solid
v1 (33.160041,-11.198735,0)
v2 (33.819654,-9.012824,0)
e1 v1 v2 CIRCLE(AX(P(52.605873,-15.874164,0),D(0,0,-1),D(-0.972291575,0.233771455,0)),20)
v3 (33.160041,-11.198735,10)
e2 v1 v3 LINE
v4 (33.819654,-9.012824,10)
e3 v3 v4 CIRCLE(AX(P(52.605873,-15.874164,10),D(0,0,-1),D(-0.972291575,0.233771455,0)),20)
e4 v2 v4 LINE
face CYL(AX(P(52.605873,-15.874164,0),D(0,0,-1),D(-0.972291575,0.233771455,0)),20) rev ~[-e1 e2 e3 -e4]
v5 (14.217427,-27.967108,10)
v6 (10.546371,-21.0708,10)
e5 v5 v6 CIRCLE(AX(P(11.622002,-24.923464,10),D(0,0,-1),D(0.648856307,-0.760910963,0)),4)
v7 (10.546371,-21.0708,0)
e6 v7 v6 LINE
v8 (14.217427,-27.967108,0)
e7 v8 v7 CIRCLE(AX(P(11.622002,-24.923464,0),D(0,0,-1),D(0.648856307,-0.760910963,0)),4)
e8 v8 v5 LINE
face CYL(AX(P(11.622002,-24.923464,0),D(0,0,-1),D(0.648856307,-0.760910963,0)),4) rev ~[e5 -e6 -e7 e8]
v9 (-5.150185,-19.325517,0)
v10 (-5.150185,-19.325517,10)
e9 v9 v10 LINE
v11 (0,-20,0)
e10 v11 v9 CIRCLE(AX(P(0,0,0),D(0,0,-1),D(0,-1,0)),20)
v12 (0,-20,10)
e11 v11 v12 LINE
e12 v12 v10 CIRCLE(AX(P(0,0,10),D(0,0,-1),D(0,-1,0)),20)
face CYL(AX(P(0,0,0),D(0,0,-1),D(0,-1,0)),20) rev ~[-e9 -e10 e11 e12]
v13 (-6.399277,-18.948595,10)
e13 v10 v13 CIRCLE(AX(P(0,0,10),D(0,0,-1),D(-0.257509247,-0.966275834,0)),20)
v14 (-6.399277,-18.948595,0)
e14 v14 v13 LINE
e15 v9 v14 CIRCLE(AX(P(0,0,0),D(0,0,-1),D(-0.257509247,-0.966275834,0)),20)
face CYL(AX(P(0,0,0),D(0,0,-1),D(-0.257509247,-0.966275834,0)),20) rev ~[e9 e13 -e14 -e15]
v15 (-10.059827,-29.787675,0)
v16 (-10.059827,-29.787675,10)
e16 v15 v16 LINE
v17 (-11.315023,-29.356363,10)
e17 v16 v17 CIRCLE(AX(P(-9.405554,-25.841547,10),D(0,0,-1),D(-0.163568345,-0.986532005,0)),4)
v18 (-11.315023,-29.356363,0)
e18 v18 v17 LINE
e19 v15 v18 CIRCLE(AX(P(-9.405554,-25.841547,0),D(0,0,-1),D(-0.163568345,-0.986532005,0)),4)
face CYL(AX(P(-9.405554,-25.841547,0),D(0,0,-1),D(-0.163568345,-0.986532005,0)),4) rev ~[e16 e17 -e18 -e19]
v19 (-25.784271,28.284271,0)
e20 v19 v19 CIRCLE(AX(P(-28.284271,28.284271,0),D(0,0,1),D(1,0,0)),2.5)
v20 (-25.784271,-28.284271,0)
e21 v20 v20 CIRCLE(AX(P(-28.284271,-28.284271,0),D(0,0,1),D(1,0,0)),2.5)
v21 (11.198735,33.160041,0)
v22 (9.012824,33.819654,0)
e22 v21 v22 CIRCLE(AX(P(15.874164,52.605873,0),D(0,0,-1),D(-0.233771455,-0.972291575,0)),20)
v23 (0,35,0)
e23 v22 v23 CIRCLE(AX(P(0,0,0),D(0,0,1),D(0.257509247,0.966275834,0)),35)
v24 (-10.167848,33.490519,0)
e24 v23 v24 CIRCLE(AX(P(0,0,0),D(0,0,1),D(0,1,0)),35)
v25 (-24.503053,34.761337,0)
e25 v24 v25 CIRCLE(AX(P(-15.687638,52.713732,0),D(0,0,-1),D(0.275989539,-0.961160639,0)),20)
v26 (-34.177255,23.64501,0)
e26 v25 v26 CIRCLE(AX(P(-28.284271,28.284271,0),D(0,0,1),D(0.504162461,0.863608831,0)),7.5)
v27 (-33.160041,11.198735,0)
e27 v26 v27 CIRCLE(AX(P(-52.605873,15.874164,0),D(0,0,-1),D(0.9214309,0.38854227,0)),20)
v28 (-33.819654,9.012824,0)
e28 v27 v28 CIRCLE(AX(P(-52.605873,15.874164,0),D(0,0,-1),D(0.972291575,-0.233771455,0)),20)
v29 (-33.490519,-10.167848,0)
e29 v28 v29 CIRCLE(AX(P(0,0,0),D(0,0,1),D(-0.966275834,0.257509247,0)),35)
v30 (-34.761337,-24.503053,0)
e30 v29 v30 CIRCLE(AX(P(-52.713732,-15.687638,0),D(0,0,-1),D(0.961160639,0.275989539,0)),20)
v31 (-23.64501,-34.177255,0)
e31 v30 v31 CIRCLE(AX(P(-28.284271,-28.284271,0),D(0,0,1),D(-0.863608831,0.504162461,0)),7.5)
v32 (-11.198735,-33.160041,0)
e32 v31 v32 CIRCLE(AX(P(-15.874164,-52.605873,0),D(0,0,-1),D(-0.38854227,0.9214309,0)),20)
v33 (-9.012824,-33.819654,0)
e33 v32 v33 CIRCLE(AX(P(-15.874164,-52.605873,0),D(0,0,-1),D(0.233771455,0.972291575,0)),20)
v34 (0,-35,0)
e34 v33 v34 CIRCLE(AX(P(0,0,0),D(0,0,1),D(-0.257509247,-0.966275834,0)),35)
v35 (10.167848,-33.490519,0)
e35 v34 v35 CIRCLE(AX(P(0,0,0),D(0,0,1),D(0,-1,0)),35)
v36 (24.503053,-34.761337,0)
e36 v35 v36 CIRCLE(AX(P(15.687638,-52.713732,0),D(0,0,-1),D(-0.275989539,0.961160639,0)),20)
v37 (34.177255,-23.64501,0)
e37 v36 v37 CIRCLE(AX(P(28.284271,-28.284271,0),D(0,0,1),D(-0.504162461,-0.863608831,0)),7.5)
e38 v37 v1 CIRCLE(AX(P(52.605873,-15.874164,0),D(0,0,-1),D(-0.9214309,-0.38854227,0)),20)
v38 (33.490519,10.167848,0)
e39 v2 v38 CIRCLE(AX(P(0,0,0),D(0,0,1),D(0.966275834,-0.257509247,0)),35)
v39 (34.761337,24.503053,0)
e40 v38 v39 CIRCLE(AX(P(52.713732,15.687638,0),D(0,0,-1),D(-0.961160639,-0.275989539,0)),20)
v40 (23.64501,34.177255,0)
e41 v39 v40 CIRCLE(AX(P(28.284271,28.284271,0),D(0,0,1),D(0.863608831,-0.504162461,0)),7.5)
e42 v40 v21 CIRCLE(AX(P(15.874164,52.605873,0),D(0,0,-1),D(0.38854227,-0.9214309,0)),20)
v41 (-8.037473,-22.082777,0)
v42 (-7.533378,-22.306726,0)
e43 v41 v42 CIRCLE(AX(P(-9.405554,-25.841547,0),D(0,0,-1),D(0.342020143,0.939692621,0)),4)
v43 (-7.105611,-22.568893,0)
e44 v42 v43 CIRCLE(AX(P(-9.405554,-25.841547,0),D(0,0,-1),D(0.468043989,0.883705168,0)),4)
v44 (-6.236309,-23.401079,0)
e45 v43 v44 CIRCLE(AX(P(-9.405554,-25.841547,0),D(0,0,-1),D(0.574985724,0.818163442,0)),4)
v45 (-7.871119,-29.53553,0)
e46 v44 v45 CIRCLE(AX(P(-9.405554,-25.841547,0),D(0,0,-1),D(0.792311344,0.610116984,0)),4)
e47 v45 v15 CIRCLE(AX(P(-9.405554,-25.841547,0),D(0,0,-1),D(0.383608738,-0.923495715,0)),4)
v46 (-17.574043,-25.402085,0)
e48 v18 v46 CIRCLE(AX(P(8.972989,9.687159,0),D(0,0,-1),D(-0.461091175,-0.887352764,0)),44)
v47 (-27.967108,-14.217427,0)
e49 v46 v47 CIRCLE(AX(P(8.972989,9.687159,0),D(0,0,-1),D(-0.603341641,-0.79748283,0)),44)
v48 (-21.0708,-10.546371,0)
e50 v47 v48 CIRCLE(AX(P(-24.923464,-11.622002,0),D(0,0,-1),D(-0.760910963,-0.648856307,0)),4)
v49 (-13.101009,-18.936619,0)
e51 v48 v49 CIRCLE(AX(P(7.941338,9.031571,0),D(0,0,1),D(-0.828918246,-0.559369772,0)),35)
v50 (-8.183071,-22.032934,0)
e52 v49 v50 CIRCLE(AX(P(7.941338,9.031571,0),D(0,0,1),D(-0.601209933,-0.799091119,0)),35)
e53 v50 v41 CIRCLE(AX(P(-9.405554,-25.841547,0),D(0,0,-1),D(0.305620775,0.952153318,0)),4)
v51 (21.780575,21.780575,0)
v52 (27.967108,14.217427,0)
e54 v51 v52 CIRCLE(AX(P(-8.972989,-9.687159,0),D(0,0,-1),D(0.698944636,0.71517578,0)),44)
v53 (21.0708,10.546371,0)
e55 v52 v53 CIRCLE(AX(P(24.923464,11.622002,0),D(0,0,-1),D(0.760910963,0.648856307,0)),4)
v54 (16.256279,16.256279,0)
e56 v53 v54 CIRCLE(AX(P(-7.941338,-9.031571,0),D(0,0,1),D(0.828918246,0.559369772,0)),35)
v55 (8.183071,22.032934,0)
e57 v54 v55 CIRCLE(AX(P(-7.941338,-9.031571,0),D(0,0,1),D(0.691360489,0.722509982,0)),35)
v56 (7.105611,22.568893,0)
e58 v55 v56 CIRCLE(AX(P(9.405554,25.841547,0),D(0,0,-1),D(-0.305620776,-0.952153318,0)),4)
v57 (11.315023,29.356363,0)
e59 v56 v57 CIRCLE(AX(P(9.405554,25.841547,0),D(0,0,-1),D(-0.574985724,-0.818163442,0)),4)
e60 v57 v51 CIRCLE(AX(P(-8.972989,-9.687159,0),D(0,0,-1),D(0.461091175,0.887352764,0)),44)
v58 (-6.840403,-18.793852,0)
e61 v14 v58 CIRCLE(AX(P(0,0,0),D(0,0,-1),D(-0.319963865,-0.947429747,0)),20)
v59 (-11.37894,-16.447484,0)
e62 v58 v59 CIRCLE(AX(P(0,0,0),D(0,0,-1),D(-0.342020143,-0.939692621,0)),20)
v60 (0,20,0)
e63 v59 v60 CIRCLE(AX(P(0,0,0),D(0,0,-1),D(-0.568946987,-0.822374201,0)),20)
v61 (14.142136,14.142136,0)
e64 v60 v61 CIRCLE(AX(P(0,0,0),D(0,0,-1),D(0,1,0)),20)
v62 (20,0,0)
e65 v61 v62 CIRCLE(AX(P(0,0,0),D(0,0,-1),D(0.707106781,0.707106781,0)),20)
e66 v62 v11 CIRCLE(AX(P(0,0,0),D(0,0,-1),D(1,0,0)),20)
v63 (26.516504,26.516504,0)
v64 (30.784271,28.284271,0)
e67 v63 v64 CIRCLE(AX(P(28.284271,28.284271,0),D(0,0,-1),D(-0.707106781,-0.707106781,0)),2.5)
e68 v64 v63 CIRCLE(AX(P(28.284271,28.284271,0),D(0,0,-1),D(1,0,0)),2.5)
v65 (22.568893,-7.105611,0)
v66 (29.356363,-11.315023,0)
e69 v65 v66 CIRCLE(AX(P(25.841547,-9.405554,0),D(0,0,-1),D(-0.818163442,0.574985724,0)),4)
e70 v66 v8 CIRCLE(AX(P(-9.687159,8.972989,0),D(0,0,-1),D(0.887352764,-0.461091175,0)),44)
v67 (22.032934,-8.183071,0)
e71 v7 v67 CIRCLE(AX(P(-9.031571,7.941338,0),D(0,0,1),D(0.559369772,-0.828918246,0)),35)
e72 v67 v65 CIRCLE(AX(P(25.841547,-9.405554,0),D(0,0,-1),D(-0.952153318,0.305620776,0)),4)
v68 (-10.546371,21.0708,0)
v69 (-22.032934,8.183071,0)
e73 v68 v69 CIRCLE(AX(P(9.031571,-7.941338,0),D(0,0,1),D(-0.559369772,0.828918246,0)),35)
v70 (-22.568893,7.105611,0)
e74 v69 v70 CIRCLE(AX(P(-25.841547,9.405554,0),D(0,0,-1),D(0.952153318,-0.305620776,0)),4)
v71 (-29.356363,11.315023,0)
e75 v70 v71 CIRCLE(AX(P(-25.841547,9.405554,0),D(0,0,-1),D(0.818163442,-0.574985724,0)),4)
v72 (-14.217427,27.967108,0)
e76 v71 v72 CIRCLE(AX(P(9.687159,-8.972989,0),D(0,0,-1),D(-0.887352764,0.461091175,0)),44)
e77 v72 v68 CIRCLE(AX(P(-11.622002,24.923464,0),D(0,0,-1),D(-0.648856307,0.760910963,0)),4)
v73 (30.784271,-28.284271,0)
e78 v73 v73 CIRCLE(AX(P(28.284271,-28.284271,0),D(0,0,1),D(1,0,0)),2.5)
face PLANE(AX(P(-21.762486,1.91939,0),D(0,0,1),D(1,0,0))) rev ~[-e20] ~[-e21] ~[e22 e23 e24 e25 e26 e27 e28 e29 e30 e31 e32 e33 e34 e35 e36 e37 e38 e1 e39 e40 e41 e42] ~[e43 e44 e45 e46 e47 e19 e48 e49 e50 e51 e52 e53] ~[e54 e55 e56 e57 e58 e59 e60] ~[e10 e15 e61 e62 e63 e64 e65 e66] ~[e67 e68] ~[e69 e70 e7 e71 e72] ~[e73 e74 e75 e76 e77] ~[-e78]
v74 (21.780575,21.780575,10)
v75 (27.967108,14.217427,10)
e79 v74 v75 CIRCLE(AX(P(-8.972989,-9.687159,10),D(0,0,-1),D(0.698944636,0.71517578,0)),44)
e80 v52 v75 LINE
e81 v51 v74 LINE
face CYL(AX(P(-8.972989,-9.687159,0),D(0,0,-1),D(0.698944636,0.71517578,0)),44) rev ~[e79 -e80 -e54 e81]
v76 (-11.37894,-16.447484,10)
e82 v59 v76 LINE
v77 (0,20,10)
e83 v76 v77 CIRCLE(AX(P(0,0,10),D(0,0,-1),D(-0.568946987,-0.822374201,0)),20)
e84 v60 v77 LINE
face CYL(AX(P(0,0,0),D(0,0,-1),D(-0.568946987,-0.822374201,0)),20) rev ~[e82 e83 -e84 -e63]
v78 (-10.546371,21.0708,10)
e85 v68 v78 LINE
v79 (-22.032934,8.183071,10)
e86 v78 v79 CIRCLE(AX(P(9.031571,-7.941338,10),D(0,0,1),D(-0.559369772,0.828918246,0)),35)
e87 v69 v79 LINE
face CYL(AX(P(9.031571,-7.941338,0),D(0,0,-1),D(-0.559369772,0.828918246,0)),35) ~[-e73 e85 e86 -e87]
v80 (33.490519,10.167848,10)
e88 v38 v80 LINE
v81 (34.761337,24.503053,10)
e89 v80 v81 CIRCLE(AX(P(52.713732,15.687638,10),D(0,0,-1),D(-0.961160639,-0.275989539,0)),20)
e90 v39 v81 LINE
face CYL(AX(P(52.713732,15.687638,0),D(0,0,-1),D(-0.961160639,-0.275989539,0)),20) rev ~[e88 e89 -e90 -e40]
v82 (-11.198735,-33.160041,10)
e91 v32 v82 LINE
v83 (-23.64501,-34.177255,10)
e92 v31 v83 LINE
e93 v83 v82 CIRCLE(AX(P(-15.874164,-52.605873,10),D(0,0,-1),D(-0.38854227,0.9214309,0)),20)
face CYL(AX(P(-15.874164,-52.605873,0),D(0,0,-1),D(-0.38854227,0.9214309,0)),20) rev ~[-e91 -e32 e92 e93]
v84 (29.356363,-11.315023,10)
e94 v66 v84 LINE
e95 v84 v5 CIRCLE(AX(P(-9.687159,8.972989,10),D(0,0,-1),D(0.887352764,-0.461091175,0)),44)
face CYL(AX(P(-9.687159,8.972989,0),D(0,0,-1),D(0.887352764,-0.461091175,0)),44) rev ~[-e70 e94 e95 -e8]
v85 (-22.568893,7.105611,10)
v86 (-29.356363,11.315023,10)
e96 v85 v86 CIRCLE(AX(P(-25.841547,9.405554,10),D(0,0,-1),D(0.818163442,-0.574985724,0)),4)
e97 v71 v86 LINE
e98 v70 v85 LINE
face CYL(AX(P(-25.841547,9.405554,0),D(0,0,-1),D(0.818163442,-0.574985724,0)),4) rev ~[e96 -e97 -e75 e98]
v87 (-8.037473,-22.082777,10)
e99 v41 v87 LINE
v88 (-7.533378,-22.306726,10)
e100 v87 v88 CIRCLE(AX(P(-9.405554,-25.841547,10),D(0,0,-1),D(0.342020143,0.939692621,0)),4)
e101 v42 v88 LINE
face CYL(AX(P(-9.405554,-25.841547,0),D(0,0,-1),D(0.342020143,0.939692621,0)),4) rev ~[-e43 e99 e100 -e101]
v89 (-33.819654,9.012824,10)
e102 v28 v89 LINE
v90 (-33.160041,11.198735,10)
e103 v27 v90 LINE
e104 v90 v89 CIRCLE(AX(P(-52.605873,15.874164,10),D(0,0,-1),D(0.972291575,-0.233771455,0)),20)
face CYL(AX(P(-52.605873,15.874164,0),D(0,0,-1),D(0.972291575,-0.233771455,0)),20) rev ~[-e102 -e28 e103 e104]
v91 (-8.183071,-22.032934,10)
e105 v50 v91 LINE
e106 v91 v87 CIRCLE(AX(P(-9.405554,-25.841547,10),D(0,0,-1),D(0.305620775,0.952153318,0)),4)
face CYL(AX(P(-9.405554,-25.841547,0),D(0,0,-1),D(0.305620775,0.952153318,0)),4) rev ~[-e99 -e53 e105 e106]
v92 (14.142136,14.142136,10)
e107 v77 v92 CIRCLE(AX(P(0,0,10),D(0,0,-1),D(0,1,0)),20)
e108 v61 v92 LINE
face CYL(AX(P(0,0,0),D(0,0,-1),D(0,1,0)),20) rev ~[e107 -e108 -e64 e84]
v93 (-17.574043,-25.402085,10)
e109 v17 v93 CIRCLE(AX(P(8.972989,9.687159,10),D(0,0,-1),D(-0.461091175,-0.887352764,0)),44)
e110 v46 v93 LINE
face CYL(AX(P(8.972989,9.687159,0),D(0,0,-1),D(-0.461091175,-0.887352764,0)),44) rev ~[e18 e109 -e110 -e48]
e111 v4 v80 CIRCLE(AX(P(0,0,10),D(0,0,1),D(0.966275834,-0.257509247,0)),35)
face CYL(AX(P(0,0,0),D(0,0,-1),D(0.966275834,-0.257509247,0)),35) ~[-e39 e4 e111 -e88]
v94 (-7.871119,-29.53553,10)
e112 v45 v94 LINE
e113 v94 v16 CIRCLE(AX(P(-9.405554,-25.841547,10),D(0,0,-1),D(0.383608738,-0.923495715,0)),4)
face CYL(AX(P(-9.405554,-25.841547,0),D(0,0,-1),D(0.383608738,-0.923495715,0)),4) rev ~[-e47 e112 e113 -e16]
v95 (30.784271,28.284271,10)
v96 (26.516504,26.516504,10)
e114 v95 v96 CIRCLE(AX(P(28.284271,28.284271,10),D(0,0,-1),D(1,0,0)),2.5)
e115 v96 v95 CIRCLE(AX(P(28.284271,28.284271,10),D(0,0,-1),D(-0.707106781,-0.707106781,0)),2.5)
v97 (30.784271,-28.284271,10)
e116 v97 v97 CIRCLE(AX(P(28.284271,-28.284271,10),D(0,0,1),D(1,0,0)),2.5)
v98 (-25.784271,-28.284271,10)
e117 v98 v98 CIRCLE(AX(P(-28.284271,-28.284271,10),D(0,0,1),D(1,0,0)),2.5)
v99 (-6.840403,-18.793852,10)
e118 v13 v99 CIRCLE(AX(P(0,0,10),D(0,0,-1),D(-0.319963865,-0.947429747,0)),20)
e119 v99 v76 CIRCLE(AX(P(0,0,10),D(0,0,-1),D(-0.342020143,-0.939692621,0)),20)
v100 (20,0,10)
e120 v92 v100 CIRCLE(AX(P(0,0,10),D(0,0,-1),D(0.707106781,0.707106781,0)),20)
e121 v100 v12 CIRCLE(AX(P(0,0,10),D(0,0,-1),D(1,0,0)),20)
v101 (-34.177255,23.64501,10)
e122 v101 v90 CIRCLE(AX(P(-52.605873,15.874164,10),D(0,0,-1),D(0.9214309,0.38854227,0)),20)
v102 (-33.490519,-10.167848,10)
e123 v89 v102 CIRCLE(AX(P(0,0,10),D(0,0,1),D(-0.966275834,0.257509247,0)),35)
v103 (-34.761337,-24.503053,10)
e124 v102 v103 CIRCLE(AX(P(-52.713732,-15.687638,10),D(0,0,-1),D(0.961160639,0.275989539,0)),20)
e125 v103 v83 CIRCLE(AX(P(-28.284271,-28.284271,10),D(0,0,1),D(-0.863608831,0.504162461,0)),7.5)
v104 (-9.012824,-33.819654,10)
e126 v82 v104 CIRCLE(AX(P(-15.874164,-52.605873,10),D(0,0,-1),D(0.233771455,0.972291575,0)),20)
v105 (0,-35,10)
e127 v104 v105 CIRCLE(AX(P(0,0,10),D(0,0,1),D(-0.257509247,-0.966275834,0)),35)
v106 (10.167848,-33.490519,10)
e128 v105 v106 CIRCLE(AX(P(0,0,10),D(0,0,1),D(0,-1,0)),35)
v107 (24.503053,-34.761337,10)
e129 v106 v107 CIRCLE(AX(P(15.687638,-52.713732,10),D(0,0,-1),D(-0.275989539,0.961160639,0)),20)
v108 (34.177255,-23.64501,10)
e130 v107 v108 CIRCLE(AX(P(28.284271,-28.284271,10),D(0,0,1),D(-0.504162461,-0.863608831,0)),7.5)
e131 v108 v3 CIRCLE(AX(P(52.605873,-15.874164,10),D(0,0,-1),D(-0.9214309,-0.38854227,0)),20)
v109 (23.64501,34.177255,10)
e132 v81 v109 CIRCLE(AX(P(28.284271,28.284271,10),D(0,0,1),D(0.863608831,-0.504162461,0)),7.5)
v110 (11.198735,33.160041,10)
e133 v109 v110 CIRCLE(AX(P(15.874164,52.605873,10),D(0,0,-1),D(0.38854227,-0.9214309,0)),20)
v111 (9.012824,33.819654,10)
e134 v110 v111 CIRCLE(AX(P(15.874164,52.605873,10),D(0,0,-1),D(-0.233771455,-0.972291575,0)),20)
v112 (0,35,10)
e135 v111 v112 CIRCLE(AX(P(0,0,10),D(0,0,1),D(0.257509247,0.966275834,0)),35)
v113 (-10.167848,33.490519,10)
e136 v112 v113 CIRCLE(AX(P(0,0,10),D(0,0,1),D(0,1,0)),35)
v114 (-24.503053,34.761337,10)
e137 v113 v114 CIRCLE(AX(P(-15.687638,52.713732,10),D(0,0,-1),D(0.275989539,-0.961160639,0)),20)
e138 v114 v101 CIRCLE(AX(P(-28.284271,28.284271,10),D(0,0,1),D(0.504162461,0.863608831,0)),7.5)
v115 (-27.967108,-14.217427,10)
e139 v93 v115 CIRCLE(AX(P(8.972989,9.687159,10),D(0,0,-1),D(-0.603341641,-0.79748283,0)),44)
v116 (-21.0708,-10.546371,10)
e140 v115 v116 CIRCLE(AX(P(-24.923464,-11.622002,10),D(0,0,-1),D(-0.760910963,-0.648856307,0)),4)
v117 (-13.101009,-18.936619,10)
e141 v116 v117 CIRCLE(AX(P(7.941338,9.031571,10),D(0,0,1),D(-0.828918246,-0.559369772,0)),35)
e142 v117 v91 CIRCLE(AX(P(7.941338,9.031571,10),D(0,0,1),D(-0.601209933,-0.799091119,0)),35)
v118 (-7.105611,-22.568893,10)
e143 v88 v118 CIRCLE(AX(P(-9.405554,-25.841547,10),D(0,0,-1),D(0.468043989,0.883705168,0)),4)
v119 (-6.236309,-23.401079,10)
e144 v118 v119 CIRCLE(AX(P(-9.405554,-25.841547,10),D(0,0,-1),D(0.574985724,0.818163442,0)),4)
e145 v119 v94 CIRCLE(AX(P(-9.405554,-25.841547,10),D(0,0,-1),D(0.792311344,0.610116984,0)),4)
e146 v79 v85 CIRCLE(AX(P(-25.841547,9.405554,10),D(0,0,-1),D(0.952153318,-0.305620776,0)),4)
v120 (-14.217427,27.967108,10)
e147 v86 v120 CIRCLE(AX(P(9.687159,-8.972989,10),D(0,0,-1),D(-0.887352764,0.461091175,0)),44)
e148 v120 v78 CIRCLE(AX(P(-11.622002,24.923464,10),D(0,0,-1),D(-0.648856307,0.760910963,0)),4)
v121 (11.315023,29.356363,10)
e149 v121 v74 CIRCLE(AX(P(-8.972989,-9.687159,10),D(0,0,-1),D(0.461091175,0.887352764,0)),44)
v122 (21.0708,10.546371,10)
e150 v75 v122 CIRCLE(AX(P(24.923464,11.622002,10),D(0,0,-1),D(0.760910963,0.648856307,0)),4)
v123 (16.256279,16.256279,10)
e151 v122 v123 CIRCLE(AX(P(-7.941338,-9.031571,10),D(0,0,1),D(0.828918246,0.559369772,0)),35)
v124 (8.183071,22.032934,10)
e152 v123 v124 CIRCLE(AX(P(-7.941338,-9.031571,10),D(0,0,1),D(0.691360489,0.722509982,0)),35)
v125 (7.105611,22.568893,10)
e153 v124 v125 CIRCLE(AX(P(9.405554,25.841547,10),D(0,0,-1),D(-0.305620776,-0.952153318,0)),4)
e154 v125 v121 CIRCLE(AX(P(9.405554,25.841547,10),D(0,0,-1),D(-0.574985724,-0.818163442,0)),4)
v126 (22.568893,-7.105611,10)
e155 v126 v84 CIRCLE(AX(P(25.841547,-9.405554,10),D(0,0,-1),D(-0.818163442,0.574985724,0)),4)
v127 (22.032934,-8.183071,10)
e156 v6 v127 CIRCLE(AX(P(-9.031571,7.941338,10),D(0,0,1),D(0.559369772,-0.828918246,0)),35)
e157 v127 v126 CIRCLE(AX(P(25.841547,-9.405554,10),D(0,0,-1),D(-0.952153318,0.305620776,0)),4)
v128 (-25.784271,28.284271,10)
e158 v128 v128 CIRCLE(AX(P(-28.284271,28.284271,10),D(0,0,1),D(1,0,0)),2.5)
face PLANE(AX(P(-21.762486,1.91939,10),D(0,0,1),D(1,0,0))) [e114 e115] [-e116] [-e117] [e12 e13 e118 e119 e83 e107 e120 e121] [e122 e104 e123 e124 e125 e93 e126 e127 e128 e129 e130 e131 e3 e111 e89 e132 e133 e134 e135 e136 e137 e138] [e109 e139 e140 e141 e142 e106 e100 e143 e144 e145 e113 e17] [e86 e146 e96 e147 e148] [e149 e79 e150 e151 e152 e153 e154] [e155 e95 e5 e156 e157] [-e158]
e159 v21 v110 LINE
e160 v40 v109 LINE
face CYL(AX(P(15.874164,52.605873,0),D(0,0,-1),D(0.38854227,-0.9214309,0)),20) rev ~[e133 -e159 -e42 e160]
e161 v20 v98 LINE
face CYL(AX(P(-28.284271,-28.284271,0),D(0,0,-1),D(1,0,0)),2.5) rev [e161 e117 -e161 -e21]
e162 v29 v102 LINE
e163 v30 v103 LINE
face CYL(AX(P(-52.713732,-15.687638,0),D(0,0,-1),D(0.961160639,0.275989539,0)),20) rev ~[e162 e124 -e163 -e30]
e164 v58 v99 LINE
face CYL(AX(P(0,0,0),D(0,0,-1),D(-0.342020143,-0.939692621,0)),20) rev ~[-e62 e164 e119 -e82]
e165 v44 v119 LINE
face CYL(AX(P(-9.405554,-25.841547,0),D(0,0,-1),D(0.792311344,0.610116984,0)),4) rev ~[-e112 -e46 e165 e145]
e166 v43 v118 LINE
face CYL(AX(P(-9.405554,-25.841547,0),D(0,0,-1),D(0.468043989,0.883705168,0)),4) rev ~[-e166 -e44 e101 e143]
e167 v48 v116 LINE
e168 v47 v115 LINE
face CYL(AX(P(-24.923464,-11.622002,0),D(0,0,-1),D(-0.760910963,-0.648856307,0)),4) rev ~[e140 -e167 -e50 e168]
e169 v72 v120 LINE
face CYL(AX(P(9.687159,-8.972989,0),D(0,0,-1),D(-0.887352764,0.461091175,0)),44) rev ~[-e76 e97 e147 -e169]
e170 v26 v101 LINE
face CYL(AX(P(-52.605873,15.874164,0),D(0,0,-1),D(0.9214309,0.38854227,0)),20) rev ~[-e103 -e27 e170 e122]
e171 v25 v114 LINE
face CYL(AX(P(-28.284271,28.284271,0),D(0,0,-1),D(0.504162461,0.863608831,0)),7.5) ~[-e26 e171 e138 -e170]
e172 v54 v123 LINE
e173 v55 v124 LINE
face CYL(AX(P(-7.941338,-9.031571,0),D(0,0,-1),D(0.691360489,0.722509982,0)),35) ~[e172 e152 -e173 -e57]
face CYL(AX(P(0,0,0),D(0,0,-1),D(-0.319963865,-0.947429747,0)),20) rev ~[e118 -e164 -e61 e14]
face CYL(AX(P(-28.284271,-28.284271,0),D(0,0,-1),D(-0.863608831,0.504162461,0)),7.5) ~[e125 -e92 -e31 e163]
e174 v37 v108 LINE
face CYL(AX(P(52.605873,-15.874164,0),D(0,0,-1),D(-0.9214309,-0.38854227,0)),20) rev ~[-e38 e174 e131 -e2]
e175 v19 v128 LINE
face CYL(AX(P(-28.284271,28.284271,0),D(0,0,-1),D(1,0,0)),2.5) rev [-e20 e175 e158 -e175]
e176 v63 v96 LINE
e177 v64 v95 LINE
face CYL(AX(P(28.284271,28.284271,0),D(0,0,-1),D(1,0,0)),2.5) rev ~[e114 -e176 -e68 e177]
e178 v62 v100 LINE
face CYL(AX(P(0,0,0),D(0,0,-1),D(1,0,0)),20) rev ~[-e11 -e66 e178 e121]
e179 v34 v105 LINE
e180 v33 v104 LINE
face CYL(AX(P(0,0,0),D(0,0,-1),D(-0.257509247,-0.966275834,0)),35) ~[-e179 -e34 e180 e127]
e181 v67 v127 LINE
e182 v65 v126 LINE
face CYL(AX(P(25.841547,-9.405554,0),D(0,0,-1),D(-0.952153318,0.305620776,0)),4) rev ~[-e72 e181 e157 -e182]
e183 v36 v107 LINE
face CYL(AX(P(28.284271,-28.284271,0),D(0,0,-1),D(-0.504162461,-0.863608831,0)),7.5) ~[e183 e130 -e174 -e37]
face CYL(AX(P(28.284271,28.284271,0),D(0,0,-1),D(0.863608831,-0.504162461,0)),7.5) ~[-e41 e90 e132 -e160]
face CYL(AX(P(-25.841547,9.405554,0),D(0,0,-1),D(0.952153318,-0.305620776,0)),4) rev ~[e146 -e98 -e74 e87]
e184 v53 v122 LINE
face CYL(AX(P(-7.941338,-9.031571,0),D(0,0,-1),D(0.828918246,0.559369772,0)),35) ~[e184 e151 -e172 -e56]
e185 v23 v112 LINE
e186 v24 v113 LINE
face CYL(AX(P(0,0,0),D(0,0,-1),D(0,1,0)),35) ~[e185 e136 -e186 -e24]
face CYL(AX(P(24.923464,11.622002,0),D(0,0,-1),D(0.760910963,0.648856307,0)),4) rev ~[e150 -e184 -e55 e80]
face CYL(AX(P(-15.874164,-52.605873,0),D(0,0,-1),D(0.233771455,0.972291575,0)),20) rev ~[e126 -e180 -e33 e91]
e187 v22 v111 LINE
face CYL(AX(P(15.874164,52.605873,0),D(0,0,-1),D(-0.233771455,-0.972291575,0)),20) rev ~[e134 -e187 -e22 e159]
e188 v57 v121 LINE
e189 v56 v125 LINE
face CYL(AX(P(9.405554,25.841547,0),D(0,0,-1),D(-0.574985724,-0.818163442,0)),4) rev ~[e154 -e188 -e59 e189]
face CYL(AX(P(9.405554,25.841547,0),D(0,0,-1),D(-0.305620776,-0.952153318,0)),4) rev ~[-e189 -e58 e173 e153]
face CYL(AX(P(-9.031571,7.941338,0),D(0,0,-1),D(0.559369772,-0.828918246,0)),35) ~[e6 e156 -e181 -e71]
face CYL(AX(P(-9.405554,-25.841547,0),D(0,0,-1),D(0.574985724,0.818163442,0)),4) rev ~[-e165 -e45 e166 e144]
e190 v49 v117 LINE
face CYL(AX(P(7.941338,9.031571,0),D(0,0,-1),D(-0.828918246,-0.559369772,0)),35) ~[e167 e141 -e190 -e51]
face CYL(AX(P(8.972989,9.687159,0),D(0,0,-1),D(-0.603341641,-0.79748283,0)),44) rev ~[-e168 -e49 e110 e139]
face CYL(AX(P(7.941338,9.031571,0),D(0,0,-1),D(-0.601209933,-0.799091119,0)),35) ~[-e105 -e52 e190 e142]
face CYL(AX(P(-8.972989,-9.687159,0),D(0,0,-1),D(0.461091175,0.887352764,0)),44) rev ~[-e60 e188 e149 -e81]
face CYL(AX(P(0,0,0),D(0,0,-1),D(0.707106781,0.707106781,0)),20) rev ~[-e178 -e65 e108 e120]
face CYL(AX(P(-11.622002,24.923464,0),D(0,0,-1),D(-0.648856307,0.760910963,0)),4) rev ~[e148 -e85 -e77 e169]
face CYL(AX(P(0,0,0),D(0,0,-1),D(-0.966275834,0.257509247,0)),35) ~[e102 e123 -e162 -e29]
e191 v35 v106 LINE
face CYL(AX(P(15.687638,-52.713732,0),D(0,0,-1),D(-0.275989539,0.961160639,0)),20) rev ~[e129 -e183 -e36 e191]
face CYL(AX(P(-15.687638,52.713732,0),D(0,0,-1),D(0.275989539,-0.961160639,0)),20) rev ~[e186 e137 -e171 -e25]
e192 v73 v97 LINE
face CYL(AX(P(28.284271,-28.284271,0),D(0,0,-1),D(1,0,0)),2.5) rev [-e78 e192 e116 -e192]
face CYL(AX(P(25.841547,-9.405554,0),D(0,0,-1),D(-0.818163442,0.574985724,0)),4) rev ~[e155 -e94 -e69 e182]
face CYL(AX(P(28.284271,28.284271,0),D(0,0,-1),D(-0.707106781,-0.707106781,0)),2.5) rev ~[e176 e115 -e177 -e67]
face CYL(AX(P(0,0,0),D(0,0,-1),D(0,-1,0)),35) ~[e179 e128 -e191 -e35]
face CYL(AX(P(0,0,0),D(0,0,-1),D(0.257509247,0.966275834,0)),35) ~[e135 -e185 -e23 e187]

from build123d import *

# Parameters (mm, degrees)
F0_R     = 2.5
F1_DEPTH = 10


with BuildPart() as f1:
    # F0 (on Top) → F1 (new body)
    with BuildSketch(Plane.XY):
        with BuildLine():
            Line((0, 20), (0, 35))
            ThreePointArc((0, 35), (-5.139641441, 34.620573159), (-10.1678475726, 33.4905191919))
            ThreePointArc((-10.1678475726, 33.4905191919), (-17.4537155293, 32.7918602935), (-24.5030527862, 34.7613374775))
            ThreePointArc((-24.5030527862, 34.7613374775), (-33.9418390183, 33.2078803829), (-34.1772546288, 23.6450097903))
            ThreePointArc((-34.1772546288, 23.6450097903), (-32.6723351007, 17.5032995342), (-33.160041137, 11.1987352765))
            ThreePointArc((-33.160041137, 11.1987352765), (-33.458628369, 10.0963588308), (-33.819654198, 9.012823638))
            ThreePointArc((-33.819654198, 9.012823638), (-34.994848156, -0.6005019029), (-33.4905191919, -10.1678475726))
            ThreePointArc((-33.4905191919, -10.1678475726), (-32.7918602935, -17.4537155293), (-34.7613374775, -24.5030527862))
            ThreePointArc((-34.7613374775, -24.5030527862), (-33.2078803829, -33.9418390183), (-23.6450097903, -34.1772546288))
            Line((-23.6450097903, -34.1772546288), (-17.5740434932, -25.4020854569))
            ThreePointArc((-17.5740434932, -25.4020854569), (-23.2594177785, -20.2640007089), (-27.9671079942, -14.2174274252))
            ThreePointArc((-27.9671079942, -14.2174274252), (-28.3098834226, -13.75089028), (-28.5817235471, -13.2397593292))
            ThreePointArc((-28.5817235471, -13.2397593292), (-26.2736614667, -7.8567708386), (-21.0708003204, -10.5463714686))
            ThreePointArc((-21.0708003204, -10.5463714686), (-17.4350672969, -15.0731601026), (-13.1010093591, -18.936618624))
            Line((-13.1010093591, -18.936618624), (-11.3789397329, -16.447484019))
            ThreePointArc((-11.3789397329, -16.447484019), (-19.0912241669, 5.9602986343), (0, 20))
        make_face()
        with Locations((-28.2842712475, -28.2842712475)):
            Circle(F0_R, mode=Mode.SUBTRACT)
        with BuildLine():
            ThreePointArc((-13.2397593292, 28.5817235471), (-7.8567708386, 26.2736614667), (-10.5463714686, 21.0708003204))
            ThreePointArc((-10.5463714686, 21.0708003204), (-17.096723239, 15.3462606412), (-22.0329337989, 8.1830708377))
            ThreePointArc((-22.0329337989, 8.1830708377), (-22.2601624756, 7.6240701847), (-22.5688933039, 7.1056110472))
            ThreePointArc((-22.5688933039, 7.1056110472), (-27.9497329821, 6.0062080975), (-29.3563625566, 11.3150230056))
            ThreePointArc((-29.3563625566, 11.3150230056), (-22.869546271, 20.6253378904), (-14.2174274252, 27.9671079942))
            ThreePointArc((-14.2174274252, 27.9671079942), (-13.75089028, 28.3098834226), (-13.2397593292, 28.5817235471))
        make_face(mode=Mode.SUBTRACT)
        with Locations((-28.2842712475, 28.2842712475)):
            Circle(F0_R, mode=Mode.SUBTRACT)
        with BuildLine():
            ThreePointArc((9.012823638, 33.819654198), (4.5448929069, 34.7036590069), (0, 35))
            Line((0, 35), (0, 20))
            ThreePointArc((0, 20), (7.6536686473, 18.4775906502), (14.1421356237, 14.1421356237))
            ThreePointArc((14.1421356237, 14.1421356237), (18.4775906502, 7.6536686473), (20, 0))
            ThreePointArc((20, 0), (14.1421356237, -14.1421356237), (0, -20))
            Line((0, -20), (0, -35))
            ThreePointArc((0, -35), (5.139641441, -34.620573159), (10.1678475726, -33.4905191919))
            ThreePointArc((10.1678475726, -33.4905191919), (17.4537155293, -32.7918602935), (24.5030527862, -34.7613374775))
            ThreePointArc((24.5030527862, -34.7613374775), (33.9418390183, -33.2078803829), (34.1772546288, -23.6450097903))
            ThreePointArc((34.1772546288, -23.6450097903), (32.6723351007, -17.5032995342), (33.160041137, -11.1987352765))
            ThreePointArc((33.160041137, -11.1987352765), (33.458628369, -10.0963588308), (33.819654198, -9.012823638))
            ThreePointArc((33.819654198, -9.012823638), (34.994848156, 0.6005019029), (33.4905191919, 10.1678475726))
            ThreePointArc((33.4905191919, 10.1678475726), (32.7918602935, 17.4537155293), (34.7613374775, 24.5030527862))
            ThreePointArc((34.7613374775, 24.5030527862), (33.2078803829, 33.9418390183), (23.6450097903, 34.1772546288))
            ThreePointArc((23.6450097903, 34.1772546288), (17.5032995342, 32.6723351007), (11.1987352765, 33.160041137))
            ThreePointArc((11.1987352765, 33.160041137), (10.0963588308, 33.458628369), (9.012823638, 33.819654198))
        make_face()
        with Locations((28.2842712475, -28.2842712475)):
            Circle(F0_R, mode=Mode.SUBTRACT)
        with BuildLine():
            ThreePointArc((13.2397593292, -28.5817235471), (7.8567708386, -26.2736614667), (10.5463714686, -21.0708003204))
            ThreePointArc((10.5463714686, -21.0708003204), (17.096723239, -15.3462606412), (22.0329337989, -8.1830708377))
            ThreePointArc((22.0329337989, -8.1830708377), (22.2601624756, -7.6240701847), (22.5688933039, -7.1056110472))
            ThreePointArc((22.5688933039, -7.1056110472), (27.9497329821, -6.0062080975), (29.3563625566, -11.3150230056))
            ThreePointArc((29.3563625566, -11.3150230056), (22.869546271, -20.6253378904), (14.2174274252, -27.9671079942))
            ThreePointArc((14.2174274252, -27.9671079942), (13.75089028, -28.3098834226), (13.2397593292, -28.5817235471))
        make_face(mode=Mode.SUBTRACT)
        with BuildLine():
            ThreePointArc((21.0708003204, 10.5463714686), (18.8162828052, 13.5301163041), (16.2562788277, 16.2562788277))
            ThreePointArc((16.2562788277, 16.2562788277), (12.4255192438, 19.432285732), (8.1830708377, 22.0329337989))
            ThreePointArc((8.1830708377, 22.0329337989), (7.6240701847, 22.2601624756), (7.1056110472, 22.5688933039))
            ThreePointArc((7.1056110472, 22.5688933039), (6.0062080975, 27.9497329821), (11.3150230056, 29.3563625566))
            ThreePointArc((11.3150230056, 29.3563625566), (16.8273746655, 25.9546878233), (21.7805752556, 21.7805752556))
            ThreePointArc((21.7805752556, 21.7805752556), (25.0844366917, 18.1712647028), (27.9671079942, 14.2174274252))
            ThreePointArc((27.9671079942, 14.2174274252), (28.3098834226, 13.75089028), (28.5817235471, 13.2397593292))
            ThreePointArc((28.5817235471, 13.2397593292), (26.2736614667, 7.8567708386), (21.0708003204, 10.5463714686))
        make_face(mode=Mode.SUBTRACT)
        with BuildLine():
            ThreePointArc((30.7842712475, 28.2842712475), (29.2409798284, 25.9745724162), (26.5165042945, 26.5165042945))
            ThreePointArc((26.5165042945, 26.5165042945), (27.3275626665, 30.5939700787), (30.7842712475, 28.2842712475))
        make_face(mode=Mode.SUBTRACT)
        with BuildLine():
            ThreePointArc((-6.8404028665, -18.7938524157), (-9.1849045913, -17.7661905778), (-11.3789397329, -16.447484019))
            Line((-11.3789397329, -16.447484019), (-13.1010093591, -18.936618624))
            ThreePointArc((-13.1010093591, -18.936618624), (-10.7064161122, -20.587025905), (-8.1830708377, -22.0329337989))
            ThreePointArc((-8.1830708377, -22.0329337989), (-8.1100323796, -22.0571549298), (-8.0374733682, -22.0827765885))
            Line((-8.0374733682, -22.0827765885), (-6.8404028665, -18.7938524157))
        make_face()
        with BuildLine():
            ThreePointArc((-9.012823638, -33.819654198), (-4.5448929069, -34.7036590069), (0, -35))
            Line((0, -35), (0, -20))
            ThreePointArc((0, -20), (-2.5970816611, -19.8306622896), (-5.150184936, -19.3255166846))
            Line((-5.150184936, -19.3255166846), (-6.2363085662, -23.4010791347))
            ThreePointArc((-6.2363085662, -23.4010791347), (-5.5404506045, -26.8715840588), (-7.8711189882, -29.5355299322))
            Line((-7.8711189882, -29.5355299322), (-9.012823638, -33.819654198))
        make_face()
        with BuildLine():
            ThreePointArc((-5.150184936, -19.3255166846), (-5.7778055515, -19.1472442667), (-6.3992773009, -18.9485949354))
            Line((-6.3992773009, -18.9485949354), (-7.5333779836, -22.3067263997))
            ThreePointArc((-7.5333779836, -22.3067263997), (-7.315380073, -22.4310964856), (-7.1056110472, -22.5688933039))
            ThreePointArc((-7.1056110472, -22.5688933039), (-6.6394848179, -22.9521074021), (-6.2363085662, -23.4010791347))
            Line((-6.2363085662, -23.4010791347), (-5.150184936, -19.3255166846))
        make_face()
        with BuildLine():
            ThreePointArc((-11.1987352765, -33.160041137), (-10.0963588308, -33.458628369), (-9.012823638, -33.819654198))
            Line((-9.012823638, -33.819654198), (-7.8711189882, -29.5355299322))
            ThreePointArc((-7.8711189882, -29.5355299322), (-8.9477708121, -29.8152650544), (-10.0598273225, -29.7876750907))
            Line((-10.0598273225, -29.7876750907), (-11.1987352765, -33.160041137))
        make_face()
        with BuildLine():
            ThreePointArc((-23.6450097903, -34.1772546288), (-17.5032995342, -32.6723351007), (-11.1987352765, -33.160041137))
            Line((-11.1987352765, -33.160041137), (-10.0598273225, -29.7876750907))
            ThreePointArc((-10.0598273225, -29.7876750907), (-10.7054391121, -29.6244425953), (-11.3150230056, -29.3563625566))
            ThreePointArc((-11.3150230056, -29.3563625566), (-14.5278498189, -27.5111014909), (-17.5740434932, -25.4020854569))
            Line((-17.5740434932, -25.4020854569), (-23.6450097903, -34.1772546288))
        make_face()
        with BuildLine():
            ThreePointArc((-6.3992773009, -18.9485949354), (-6.6202922175, -18.8725125766), (-6.8404028665, -18.7938524157))
            Line((-6.8404028665, -18.7938524157), (-8.0374733682, -22.0827765885))
            ThreePointArc((-8.0374733682, -22.0827765885), (-7.7815607221, -22.1860517531), (-7.5333779836, -22.3067263997))
            Line((-7.5333779836, -22.3067263997), (-6.3992773009, -18.9485949354))
        make_face()
    extrude(amount=F1_DEPTH)


solid = f1.part
